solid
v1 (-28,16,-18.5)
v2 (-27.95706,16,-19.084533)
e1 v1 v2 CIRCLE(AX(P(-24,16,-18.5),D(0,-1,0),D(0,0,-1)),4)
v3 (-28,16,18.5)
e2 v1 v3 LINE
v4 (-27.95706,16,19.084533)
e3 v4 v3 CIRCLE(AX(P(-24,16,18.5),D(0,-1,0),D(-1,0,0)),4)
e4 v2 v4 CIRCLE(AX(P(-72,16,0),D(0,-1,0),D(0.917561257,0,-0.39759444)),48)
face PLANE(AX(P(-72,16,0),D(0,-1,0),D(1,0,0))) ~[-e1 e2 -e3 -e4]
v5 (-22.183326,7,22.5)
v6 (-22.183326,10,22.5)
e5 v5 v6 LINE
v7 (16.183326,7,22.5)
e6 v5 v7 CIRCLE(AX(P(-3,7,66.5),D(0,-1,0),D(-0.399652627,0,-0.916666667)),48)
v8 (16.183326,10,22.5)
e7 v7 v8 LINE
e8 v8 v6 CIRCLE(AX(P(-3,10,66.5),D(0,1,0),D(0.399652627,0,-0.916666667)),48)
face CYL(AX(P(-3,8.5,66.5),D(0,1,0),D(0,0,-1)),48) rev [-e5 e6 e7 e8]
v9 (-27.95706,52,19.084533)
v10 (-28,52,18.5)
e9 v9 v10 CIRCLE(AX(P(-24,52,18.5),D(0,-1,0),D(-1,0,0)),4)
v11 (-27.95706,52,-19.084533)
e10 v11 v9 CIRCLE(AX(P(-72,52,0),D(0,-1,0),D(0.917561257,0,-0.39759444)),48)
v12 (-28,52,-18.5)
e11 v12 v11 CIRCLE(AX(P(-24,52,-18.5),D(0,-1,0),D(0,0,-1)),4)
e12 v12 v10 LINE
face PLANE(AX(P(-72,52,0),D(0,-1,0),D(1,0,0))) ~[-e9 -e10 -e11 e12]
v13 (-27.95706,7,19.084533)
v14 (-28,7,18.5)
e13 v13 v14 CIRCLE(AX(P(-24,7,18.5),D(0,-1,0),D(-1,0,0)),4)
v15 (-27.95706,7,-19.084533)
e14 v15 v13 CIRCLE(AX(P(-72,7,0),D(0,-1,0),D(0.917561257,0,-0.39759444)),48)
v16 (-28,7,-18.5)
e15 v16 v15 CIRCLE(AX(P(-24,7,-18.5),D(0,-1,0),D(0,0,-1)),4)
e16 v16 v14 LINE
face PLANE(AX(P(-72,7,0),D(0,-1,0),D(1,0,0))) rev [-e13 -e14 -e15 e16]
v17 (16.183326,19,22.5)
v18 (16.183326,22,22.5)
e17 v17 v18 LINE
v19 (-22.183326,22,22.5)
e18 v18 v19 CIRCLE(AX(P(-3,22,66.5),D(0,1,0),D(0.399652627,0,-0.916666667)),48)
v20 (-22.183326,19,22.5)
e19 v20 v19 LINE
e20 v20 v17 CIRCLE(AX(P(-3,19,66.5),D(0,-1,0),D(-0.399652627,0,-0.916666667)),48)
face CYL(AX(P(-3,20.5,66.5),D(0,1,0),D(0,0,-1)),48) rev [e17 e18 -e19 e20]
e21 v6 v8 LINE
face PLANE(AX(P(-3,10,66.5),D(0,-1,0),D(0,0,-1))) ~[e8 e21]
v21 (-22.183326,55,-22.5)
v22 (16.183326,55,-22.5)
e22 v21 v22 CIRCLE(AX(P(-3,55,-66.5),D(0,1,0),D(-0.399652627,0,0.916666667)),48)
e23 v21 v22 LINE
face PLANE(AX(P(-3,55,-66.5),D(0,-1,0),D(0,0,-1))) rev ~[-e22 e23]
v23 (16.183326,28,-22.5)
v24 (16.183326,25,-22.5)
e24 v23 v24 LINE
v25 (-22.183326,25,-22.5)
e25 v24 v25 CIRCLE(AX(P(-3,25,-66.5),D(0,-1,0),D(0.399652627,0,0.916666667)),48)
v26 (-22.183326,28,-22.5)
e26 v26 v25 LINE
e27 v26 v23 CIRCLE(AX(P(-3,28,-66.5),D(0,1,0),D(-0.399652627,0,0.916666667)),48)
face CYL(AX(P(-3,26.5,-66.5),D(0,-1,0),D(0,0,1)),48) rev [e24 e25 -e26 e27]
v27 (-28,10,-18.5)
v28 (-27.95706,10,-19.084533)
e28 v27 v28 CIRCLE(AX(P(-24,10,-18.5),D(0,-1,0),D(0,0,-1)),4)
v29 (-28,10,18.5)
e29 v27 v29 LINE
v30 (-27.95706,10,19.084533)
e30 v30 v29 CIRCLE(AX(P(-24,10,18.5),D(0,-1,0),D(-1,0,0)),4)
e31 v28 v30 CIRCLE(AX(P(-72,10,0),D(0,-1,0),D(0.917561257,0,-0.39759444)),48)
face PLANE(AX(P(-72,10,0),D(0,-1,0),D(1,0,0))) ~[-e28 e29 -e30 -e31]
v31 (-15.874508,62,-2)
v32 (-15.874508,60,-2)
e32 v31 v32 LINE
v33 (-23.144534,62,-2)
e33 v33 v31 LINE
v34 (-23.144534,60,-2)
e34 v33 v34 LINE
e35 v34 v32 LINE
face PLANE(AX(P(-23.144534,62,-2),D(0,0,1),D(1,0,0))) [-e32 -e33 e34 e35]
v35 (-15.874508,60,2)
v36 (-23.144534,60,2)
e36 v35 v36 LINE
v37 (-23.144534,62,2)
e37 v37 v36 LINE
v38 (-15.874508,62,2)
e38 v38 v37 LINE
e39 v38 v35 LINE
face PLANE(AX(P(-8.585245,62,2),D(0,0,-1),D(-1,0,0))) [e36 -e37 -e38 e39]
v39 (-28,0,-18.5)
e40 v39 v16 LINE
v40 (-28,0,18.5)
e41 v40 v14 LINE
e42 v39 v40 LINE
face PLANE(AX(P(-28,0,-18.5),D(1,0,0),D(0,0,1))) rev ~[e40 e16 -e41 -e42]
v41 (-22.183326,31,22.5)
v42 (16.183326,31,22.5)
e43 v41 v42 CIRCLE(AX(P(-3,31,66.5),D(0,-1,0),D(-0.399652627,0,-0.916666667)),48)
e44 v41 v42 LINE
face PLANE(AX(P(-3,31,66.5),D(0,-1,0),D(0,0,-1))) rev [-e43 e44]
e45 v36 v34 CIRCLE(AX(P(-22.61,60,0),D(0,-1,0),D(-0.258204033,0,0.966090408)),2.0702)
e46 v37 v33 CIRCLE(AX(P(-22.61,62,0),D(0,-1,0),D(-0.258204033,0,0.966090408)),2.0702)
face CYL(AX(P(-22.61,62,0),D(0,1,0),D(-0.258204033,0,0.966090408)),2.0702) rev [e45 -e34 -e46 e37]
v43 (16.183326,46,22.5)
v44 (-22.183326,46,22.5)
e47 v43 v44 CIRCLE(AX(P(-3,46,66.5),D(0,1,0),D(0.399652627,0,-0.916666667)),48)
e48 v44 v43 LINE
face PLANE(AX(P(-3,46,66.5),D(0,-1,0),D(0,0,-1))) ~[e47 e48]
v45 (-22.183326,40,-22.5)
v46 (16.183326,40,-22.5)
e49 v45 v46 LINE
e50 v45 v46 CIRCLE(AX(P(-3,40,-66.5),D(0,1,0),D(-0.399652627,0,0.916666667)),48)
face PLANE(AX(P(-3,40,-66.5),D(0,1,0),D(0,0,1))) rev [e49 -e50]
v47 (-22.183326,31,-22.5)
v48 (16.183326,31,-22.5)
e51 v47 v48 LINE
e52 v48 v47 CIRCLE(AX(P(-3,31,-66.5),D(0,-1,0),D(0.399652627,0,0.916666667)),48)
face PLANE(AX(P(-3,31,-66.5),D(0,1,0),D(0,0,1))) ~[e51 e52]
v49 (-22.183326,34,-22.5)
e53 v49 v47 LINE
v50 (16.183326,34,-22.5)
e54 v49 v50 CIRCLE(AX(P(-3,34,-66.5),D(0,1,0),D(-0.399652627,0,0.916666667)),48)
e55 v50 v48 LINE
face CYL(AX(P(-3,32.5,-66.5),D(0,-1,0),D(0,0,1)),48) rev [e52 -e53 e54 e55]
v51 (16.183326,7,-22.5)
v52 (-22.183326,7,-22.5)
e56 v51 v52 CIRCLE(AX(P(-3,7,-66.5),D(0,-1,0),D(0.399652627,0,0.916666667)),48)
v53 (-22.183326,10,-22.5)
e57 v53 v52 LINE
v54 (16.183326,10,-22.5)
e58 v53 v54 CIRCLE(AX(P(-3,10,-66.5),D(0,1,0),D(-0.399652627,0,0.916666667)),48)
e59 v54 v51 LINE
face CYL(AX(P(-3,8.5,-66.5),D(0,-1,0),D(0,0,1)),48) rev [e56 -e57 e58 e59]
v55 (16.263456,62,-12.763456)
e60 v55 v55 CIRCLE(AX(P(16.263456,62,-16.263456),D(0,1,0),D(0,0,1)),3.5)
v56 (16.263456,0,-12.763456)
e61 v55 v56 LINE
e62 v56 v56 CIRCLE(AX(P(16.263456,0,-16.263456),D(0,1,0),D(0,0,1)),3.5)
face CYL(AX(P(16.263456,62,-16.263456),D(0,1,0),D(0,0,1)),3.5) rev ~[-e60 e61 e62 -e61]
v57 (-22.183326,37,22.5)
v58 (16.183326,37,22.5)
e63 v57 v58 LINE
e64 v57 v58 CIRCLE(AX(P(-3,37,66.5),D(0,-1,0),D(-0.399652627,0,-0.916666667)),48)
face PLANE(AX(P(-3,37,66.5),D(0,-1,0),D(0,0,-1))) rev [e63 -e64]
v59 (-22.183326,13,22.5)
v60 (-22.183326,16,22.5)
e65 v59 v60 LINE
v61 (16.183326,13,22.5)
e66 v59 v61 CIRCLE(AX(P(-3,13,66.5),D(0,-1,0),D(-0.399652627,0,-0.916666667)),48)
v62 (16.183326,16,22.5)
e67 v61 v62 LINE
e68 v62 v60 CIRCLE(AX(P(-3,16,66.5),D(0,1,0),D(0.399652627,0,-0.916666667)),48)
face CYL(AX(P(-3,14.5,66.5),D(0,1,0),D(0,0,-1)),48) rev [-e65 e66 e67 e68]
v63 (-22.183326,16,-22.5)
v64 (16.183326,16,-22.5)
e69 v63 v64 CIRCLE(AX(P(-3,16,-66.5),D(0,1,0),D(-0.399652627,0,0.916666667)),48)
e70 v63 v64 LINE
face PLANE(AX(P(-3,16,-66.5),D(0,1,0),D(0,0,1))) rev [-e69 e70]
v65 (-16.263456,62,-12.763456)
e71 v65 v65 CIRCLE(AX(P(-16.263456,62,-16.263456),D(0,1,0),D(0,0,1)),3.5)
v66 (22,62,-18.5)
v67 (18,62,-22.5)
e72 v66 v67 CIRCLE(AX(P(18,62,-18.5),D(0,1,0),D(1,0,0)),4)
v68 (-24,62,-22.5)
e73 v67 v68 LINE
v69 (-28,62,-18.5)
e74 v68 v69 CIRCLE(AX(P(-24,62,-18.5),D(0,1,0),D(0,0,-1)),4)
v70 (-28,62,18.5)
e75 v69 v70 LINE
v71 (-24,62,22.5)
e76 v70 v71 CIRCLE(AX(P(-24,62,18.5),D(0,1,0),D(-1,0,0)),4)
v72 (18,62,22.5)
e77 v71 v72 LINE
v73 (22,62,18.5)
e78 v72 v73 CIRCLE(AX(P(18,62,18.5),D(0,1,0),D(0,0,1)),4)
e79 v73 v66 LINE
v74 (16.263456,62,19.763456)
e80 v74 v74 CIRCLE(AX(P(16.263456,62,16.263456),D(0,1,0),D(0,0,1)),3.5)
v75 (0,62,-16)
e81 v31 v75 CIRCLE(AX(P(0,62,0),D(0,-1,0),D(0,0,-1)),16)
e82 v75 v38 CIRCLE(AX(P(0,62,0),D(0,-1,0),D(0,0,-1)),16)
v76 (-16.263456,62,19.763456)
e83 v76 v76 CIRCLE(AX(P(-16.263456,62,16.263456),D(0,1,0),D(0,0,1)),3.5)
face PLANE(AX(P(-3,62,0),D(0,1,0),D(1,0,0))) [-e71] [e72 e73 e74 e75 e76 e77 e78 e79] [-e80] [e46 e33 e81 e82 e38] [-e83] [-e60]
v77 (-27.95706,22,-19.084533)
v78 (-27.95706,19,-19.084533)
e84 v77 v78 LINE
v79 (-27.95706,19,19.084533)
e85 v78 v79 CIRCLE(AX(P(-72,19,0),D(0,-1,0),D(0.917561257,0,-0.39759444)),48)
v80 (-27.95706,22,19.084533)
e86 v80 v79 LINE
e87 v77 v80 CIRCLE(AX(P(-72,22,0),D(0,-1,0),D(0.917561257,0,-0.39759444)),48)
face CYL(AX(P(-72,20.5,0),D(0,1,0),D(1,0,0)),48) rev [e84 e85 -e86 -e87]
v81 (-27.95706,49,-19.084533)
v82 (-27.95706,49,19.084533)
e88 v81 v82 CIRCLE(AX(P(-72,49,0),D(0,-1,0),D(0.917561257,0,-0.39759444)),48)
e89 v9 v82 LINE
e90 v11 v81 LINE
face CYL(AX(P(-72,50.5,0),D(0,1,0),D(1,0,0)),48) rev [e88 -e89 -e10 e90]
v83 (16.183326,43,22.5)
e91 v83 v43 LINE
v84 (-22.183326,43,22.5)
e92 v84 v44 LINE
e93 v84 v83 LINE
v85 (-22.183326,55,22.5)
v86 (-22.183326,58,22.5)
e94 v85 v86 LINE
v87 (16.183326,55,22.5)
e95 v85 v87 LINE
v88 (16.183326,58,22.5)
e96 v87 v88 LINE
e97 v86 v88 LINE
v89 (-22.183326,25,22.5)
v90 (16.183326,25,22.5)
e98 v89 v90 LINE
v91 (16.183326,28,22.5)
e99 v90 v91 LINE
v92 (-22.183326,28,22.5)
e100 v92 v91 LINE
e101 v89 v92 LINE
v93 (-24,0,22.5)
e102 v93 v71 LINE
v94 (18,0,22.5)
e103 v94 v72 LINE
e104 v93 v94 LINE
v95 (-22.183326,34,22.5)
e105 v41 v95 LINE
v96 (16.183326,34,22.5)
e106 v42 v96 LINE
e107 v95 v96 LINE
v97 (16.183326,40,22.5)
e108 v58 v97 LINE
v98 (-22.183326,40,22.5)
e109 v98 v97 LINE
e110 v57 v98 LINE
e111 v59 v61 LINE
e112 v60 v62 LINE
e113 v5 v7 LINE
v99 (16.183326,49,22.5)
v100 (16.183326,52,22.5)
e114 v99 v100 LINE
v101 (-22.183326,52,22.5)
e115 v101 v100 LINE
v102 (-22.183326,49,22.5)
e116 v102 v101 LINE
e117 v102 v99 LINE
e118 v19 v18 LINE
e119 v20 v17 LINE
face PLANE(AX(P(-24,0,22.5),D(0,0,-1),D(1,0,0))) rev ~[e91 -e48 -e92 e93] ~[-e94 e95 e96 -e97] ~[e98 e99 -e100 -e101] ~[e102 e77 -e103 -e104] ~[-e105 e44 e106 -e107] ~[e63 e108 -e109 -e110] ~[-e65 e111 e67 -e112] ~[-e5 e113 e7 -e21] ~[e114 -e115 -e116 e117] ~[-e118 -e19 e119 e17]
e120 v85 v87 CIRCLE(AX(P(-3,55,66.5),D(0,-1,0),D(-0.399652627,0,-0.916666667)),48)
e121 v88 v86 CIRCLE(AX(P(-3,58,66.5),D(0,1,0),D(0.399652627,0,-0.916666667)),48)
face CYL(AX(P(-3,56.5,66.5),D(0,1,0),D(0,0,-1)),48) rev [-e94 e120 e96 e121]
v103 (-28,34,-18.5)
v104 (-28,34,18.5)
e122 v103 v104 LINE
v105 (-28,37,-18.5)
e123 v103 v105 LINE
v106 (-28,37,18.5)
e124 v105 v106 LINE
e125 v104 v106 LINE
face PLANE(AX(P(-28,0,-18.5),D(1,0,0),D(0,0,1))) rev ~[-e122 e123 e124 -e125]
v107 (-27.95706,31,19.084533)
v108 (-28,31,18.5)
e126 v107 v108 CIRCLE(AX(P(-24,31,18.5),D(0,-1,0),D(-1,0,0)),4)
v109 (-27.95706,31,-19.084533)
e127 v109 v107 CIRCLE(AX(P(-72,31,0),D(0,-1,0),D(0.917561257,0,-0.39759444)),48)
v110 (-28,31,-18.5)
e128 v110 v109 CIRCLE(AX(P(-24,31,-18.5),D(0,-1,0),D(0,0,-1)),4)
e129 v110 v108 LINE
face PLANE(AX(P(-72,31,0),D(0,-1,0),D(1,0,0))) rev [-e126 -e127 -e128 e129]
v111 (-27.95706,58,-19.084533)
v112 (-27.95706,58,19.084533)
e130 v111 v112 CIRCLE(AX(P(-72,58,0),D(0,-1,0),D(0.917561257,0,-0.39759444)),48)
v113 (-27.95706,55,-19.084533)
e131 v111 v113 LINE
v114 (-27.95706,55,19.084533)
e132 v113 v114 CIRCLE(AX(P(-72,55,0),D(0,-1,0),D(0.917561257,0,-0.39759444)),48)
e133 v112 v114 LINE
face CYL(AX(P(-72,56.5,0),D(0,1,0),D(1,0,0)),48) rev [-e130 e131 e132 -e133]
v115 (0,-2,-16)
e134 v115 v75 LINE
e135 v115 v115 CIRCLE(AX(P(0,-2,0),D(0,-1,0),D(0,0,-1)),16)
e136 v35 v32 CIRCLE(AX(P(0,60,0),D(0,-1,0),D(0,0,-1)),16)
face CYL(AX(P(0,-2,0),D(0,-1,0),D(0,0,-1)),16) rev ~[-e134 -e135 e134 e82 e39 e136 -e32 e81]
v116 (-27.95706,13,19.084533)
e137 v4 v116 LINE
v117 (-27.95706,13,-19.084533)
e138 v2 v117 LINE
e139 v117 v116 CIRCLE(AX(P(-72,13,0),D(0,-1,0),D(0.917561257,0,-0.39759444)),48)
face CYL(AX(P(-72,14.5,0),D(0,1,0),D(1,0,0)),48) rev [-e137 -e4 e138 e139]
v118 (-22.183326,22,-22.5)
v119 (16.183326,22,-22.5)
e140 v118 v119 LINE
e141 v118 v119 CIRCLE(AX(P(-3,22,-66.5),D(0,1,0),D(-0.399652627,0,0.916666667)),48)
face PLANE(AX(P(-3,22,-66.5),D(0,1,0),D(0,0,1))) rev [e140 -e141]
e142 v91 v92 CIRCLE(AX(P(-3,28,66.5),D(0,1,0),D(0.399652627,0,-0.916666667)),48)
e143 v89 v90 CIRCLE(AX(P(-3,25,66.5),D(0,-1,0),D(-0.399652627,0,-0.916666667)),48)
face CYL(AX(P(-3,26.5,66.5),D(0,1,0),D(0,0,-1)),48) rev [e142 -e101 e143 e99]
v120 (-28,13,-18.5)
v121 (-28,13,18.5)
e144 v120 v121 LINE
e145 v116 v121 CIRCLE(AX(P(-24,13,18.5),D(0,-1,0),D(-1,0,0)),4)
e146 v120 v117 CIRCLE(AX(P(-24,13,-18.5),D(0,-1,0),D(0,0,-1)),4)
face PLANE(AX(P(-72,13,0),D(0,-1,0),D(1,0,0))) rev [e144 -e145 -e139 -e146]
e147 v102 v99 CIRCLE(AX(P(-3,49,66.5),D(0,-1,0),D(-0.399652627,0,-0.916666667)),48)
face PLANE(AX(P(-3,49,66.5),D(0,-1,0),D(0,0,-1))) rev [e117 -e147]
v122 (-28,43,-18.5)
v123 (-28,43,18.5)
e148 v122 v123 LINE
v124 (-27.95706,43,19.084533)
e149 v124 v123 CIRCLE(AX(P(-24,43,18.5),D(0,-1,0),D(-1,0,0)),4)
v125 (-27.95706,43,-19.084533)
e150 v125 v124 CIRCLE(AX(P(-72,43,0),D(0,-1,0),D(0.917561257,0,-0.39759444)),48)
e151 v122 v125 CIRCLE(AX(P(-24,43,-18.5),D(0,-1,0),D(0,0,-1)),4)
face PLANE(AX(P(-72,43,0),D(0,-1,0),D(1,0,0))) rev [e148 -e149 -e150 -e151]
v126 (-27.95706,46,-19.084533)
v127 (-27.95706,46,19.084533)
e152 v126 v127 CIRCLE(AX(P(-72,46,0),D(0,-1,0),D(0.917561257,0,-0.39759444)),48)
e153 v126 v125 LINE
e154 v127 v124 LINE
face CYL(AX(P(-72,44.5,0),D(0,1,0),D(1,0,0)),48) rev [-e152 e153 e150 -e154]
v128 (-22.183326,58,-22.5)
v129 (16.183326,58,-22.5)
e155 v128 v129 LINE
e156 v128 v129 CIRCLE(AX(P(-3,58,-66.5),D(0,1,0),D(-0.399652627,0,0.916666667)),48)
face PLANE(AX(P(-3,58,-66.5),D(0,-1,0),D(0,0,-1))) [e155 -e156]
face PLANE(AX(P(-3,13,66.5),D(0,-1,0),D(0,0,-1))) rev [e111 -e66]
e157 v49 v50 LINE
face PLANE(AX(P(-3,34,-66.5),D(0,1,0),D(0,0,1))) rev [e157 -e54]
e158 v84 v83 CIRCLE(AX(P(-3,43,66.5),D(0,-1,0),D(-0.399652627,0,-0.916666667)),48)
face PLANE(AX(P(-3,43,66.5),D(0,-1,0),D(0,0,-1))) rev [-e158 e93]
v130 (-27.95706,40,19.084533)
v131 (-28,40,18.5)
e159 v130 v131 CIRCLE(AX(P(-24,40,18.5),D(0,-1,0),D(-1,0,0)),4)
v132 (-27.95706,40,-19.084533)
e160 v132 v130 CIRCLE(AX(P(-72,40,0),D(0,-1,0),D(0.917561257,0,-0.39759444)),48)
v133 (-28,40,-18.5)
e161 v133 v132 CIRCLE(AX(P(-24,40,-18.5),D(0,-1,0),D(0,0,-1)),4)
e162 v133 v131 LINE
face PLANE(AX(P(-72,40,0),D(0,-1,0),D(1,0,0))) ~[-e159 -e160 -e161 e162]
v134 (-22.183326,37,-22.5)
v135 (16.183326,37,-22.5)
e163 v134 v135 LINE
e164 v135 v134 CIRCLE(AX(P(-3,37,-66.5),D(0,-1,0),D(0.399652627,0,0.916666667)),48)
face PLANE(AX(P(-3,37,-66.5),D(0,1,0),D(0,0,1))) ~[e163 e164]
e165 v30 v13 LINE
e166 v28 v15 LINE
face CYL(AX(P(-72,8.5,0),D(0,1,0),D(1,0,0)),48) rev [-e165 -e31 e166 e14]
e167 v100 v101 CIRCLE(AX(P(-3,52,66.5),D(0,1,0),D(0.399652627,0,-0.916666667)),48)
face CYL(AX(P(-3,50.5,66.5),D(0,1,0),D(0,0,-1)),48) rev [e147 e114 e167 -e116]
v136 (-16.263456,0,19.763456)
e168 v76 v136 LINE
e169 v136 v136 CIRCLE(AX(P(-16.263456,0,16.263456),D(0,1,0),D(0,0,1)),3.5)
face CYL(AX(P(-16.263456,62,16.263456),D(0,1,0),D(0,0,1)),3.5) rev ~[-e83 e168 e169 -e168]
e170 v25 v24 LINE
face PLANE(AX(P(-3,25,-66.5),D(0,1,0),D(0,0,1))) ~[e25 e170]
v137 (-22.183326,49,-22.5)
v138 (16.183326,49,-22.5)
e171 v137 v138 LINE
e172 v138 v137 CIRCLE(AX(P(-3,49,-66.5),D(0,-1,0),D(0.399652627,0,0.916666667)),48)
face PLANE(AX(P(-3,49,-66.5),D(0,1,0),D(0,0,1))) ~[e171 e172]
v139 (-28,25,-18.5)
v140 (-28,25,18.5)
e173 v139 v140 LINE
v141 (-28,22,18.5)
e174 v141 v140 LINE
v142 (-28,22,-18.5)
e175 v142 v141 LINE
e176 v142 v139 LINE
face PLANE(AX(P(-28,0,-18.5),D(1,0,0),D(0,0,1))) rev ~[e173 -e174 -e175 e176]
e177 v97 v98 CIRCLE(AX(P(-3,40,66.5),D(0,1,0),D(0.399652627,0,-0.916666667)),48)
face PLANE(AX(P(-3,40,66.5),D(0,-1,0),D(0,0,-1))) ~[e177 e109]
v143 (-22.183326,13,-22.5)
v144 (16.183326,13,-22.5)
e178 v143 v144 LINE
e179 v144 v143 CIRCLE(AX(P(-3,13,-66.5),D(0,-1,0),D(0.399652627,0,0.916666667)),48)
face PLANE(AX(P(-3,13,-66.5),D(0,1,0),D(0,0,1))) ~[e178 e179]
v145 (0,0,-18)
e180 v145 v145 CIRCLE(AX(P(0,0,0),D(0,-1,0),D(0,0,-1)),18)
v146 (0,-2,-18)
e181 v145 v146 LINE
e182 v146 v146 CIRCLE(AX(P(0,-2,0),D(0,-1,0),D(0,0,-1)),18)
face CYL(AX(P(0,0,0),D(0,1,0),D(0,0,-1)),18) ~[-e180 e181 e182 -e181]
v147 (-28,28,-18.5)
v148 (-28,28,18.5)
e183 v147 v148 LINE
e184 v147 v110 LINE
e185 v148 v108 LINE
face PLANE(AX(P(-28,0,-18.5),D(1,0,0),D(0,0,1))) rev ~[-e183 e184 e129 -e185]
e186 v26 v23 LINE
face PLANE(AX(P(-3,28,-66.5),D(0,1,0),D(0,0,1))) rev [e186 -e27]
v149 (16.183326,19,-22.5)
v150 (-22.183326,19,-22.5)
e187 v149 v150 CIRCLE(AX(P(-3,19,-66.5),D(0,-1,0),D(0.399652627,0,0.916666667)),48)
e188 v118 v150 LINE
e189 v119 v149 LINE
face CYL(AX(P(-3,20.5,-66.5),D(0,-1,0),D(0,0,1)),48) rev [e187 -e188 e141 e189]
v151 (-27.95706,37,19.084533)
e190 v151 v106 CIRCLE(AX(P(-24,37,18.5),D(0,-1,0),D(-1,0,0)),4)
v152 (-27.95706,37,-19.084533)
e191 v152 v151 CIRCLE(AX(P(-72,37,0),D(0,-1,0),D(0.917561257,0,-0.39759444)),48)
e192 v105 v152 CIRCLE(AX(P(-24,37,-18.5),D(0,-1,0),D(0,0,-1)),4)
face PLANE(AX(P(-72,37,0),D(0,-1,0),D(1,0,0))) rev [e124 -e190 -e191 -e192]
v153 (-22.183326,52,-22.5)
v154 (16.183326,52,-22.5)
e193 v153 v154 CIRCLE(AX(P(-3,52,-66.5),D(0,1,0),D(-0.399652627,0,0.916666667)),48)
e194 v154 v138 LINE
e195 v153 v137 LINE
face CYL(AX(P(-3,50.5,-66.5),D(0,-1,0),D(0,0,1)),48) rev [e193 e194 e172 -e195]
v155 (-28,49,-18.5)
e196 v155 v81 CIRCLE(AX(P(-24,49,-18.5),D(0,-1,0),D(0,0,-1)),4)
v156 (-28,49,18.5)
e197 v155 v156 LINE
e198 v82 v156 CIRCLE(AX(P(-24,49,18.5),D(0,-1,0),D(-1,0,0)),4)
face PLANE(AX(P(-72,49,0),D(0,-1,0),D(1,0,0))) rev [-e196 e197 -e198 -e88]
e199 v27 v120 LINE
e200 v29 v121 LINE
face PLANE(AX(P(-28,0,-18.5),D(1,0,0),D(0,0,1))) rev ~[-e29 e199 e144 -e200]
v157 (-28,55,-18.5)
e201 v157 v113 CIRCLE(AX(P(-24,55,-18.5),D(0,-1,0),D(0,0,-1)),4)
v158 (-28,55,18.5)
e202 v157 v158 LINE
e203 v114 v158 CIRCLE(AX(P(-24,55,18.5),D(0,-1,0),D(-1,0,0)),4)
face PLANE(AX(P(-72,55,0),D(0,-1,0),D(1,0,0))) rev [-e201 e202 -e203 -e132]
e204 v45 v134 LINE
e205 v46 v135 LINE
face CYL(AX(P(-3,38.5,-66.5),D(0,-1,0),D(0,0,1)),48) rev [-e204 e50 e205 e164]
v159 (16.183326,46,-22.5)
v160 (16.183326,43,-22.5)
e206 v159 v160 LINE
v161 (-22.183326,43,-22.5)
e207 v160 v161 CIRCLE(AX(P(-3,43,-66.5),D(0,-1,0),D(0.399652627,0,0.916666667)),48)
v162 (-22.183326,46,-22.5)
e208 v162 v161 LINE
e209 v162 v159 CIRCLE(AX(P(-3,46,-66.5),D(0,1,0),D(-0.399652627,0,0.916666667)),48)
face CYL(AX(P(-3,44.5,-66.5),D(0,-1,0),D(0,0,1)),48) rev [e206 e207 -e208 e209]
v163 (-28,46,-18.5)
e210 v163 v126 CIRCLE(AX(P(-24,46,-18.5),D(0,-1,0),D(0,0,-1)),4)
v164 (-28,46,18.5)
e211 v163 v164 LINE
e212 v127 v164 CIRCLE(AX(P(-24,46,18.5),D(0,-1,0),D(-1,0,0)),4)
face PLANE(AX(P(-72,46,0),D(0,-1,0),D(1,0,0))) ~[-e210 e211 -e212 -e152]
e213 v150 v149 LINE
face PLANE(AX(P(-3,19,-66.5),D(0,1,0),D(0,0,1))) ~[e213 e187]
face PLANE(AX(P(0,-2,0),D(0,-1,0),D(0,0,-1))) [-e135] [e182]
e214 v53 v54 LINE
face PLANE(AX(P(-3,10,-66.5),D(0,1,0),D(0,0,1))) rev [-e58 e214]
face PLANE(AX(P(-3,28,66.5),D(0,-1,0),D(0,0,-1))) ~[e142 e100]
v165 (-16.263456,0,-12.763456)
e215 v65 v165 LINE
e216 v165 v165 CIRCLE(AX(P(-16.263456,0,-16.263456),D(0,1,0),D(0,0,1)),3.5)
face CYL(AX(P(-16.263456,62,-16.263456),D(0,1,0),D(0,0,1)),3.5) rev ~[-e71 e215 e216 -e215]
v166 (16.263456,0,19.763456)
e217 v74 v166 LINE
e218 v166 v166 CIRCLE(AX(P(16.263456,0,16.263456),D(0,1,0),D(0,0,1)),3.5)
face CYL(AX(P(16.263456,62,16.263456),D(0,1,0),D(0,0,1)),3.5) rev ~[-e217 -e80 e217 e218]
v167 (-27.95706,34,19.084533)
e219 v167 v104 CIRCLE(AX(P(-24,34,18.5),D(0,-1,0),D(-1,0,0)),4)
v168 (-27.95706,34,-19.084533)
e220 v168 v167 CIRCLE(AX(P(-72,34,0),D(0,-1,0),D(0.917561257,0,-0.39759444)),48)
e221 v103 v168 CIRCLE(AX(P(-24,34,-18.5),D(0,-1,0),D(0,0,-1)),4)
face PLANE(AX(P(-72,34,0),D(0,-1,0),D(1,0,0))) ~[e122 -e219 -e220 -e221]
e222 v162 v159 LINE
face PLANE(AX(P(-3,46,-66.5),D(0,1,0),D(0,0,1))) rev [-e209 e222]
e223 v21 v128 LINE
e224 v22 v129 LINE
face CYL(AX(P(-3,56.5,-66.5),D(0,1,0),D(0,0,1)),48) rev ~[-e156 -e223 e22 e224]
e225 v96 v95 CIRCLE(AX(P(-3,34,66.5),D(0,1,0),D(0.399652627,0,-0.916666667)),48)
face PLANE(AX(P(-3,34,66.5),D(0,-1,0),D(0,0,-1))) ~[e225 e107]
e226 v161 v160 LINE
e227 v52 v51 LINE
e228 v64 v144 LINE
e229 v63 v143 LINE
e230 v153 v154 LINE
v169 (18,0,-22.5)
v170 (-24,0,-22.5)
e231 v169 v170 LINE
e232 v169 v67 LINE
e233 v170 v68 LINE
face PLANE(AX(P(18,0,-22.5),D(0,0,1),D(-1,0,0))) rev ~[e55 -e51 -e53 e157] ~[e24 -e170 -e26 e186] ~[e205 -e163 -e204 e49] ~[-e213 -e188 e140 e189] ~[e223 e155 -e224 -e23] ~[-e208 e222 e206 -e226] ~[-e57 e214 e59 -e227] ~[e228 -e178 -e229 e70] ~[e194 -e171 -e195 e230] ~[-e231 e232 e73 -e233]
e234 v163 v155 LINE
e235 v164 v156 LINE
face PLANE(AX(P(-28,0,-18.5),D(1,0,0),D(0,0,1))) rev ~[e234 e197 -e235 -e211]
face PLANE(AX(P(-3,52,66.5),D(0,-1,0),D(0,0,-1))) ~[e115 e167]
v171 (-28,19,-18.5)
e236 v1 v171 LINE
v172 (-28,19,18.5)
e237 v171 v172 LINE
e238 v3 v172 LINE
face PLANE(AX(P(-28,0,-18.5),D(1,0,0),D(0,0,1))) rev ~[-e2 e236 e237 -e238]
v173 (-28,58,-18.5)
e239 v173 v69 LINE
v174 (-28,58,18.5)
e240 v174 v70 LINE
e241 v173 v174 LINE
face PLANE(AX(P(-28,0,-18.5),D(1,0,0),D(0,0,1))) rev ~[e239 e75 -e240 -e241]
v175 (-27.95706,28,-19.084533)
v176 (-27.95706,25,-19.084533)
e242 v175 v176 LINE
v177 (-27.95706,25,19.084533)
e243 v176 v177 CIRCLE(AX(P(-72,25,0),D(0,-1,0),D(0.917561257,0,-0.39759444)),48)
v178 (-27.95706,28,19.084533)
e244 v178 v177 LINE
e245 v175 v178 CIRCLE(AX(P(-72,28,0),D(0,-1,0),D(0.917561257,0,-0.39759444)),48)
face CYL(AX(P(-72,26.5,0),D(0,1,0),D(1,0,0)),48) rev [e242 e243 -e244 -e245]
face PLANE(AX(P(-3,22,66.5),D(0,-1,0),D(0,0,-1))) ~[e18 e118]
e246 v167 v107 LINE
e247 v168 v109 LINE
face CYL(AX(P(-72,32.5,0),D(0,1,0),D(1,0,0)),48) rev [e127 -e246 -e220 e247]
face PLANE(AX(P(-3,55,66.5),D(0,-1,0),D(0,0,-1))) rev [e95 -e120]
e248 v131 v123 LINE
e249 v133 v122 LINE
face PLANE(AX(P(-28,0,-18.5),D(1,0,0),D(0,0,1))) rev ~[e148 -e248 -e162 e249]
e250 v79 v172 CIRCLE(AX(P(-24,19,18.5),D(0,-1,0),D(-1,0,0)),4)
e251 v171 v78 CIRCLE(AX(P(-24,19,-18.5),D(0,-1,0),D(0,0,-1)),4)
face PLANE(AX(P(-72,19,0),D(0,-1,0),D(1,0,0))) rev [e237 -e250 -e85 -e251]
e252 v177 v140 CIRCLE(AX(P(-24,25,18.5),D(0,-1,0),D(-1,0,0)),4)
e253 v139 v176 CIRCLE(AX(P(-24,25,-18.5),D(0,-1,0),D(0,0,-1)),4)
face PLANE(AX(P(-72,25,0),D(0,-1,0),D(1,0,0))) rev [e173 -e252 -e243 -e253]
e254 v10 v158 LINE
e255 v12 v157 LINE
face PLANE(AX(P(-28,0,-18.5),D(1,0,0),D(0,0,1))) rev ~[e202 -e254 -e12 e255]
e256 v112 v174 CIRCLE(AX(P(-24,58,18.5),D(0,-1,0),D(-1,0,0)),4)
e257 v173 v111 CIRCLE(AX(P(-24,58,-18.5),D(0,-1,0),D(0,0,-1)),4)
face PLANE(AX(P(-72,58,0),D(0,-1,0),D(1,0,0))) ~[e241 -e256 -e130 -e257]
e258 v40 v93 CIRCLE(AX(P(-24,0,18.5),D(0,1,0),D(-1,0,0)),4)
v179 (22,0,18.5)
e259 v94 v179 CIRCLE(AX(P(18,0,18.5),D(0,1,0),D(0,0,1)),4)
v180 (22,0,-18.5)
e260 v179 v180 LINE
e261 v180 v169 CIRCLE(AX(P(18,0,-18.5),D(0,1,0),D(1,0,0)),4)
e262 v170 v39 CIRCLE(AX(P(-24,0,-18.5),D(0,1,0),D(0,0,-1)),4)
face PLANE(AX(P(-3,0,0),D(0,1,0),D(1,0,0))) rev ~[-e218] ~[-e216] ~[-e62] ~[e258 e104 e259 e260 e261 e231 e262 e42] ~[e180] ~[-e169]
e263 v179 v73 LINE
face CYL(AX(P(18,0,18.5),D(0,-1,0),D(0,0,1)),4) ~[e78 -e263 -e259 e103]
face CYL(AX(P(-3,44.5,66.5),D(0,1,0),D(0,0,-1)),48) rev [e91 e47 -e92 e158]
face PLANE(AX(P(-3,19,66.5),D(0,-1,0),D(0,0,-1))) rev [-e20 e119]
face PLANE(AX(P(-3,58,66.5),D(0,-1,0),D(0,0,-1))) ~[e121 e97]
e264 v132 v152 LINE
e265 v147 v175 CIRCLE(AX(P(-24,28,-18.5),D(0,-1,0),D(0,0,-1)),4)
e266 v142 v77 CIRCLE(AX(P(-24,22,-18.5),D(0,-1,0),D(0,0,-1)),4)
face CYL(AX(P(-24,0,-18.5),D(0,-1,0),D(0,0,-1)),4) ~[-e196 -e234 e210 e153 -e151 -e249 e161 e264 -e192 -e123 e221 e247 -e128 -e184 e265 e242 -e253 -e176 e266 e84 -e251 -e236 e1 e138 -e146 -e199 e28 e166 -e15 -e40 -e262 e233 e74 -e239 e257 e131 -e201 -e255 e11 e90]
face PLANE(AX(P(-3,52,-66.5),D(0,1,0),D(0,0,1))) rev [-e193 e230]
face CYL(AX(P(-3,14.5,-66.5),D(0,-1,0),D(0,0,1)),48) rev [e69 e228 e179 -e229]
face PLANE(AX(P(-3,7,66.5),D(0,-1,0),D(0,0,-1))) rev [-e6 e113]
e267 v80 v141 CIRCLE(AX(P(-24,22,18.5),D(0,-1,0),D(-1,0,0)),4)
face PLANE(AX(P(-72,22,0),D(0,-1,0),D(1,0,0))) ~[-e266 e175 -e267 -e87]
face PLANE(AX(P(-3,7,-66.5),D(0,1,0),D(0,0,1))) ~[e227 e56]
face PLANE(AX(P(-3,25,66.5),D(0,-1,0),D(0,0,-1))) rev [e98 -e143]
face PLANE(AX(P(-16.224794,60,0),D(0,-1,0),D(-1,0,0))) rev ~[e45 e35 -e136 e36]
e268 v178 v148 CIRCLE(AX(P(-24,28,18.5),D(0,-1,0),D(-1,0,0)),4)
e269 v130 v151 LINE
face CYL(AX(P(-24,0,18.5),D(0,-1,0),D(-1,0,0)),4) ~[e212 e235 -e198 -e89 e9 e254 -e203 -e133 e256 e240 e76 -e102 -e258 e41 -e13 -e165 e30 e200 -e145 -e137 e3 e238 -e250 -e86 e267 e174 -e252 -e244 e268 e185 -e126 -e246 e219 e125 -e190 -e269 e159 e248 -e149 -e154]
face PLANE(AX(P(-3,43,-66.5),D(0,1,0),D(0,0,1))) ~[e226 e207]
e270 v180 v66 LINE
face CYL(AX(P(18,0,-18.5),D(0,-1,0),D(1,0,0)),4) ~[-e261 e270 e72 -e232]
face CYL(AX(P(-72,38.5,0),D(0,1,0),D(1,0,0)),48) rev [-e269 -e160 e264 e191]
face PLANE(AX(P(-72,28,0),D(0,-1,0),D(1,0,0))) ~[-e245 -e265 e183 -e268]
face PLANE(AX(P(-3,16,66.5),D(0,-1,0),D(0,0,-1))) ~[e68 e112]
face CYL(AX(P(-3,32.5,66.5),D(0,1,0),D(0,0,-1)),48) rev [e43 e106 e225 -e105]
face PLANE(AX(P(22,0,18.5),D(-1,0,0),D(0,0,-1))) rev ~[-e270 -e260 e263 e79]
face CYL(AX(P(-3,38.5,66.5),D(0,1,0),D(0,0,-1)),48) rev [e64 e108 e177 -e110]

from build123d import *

# Parameters (mm, degrees)
BOSS_EXTRUDE1_DEPTH     = 62
SKETCH2_R               = 18
BOSS_EXTRUDE2_DEPTH     = 2
SKETCH3_R               = 16
CUT_EXTRUDE1_DEPTH      = 74.391075752
CUT_EXTRUDE2_DEPTH      = 2
SKETCH5_R               = 3.5
CUT_EXTRUDE3_DEPTH      = 74.391075752
SKETCH6_W               = 48
SKETCH6_H               = 3
LPATTERN1_COUNT         = 9
LPATTERN1_PITCH         = 6
MIRROR1_COPY_1_SKETCH_W = 48
MIRROR1_COPY_1_SKETCH_H = 3
MIRROR1_COPY_2_SKETCH_W = 48
MIRROR1_COPY_2_SKETCH_H = 3
MIRROR1_COPY_3_SKETCH_W = 48
MIRROR1_COPY_3_SKETCH_H = 3
MIRROR1_COPY_4_SKETCH_W = 48
MIRROR1_COPY_4_SKETCH_H = 3
MIRROR1_COPY_5_SKETCH_W = 48
MIRROR1_COPY_5_SKETCH_H = 3
MIRROR1_COPY_6_SKETCH_W = 48
MIRROR1_COPY_6_SKETCH_H = 3
MIRROR1_COPY_7_SKETCH_W = 48
MIRROR1_COPY_7_SKETCH_H = 3
MIRROR1_COPY_8_SKETCH_W = 48
MIRROR1_COPY_8_SKETCH_H = 3
SKETCH10_W              = 48
SKETCH10_H              = 3
LPATTERN2_COUNT         = 9
LPATTERN2_PITCH         = 6


with BuildPart() as part:
    # Sketch1 → Boss-Extrude1 (new body)
    with BuildSketch(Plane(origin=(0, 0, 0), x_dir=(1, 0, 0), z_dir=(0, 1, 0))):
        with BuildLine():
            Line((-24, -22.5), (18, -22.5))
            ThreePointArc((18, -22.5), (20.828427125, -21.328427125), (22, -18.5))
            Line((22, -18.5), (22, 18.5))
            ThreePointArc((22, 18.5), (20.828427125, 21.328427125), (18, 22.5))
            Line((18, 22.5), (-24, 22.5))
            ThreePointArc((-24, 22.5), (-26.828427125, 21.328427125), (-28, 18.5))
            Line((-28, 18.5), (-28, -18.5))
            ThreePointArc((-28, -18.5), (-26.828427125, -21.328427125), (-24, -22.5))
        make_face()
    extrude(amount=BOSS_EXTRUDE1_DEPTH)

    # Sketch2 → Boss-Extrude2 (add)
    with BuildSketch(Plane.XZ):
        with Locations(Location((0, 0, 0), (0, 0, 270))):
            Circle(SKETCH2_R)
    extrude(amount=BOSS_EXTRUDE2_DEPTH)

    # Sketch3 → Cut-Extrude1 (cut, through all)
    with BuildSketch(Plane.XZ.offset(2)):
        with Locations(Location((0, 0, 0), (0, 0, 270))):
            Circle(SKETCH3_R)
    extrude(amount=-CUT_EXTRUDE1_DEPTH, mode=Mode.SUBTRACT)

    # Sketch4 → Cut-Extrude2 (cut)
    with BuildSketch(Plane(origin=(0, 62, 0), x_dir=(1, 0, 0), z_dir=(0, 1, 0))):
        with BuildLine():
            Line((-23.144533893, 2), (-8.5852446, 2))
            Line((-8.5852446, 2), (-8.5852446, -2))
            Line((-8.5852446, -2), (-23.144533893, -2))
            ThreePointArc((-23.144533893, -2), (-24.680199624, 0), (-23.144533893, 2))
        make_face()
    extrude(amount=-CUT_EXTRUDE2_DEPTH, mode=Mode.SUBTRACT)

    # Sketch5 → Cut-Extrude3 (cut, through all)
    with BuildSketch(Plane(origin=(0, 62, 0), x_dir=(1, 0, 0), z_dir=(0, 1, 0))):
        with Locations(Location((16.263455967, 16.263455967, 0), (0, 0, 270))):
            Circle(SKETCH5_R)
        with Locations(Location((16.263455967, -16.263455967, 0), (0, 0, 270))):
            Circle(SKETCH5_R)
        with Locations(Location((-16.263455967, -16.263455967, 0), (0, 0, 270))):
            Circle(SKETCH5_R)
        with Locations(Location((-16.263455967, 16.263455967, 0), (0, 0, 270))):
            Circle(SKETCH5_R)
    extrude(amount=-CUT_EXTRUDE3_DEPTH, mode=Mode.SUBTRACT)

    # Sketch6 → Cut-Revolve1 (revolve, cut)
    with BuildSketch(Plane(origin=(-3, 0, 0), x_dir=(0, 0, -1), z_dir=(1, 0, 0))):
        with Locations((-42.5, 56.5)):
            Rectangle(SKETCH6_W, SKETCH6_H)
    cut_revolve1 = revolve(axis=Axis((-3, 58, 66.5), (0, -1, 0)), mode=Mode.SUBTRACT)

    # LPattern1: Cut-Revolve1 ×9
    with Locations(*[(0, -i * LPATTERN1_PITCH, 0) for i in range(1, LPATTERN1_COUNT)]):
        add(cut_revolve1, mode=Mode.SUBTRACT)

    # Mirror1: Cut-Revolve1 across plane
    add(cut_revolve1.mirror(Plane.XY), mode=Mode.SUBTRACT)

    # Mirror1 copy 1 sketch → Mirror1 copy 1 (revolve, cut)
    with BuildSketch(Plane(origin=(-3, -6, 0), x_dir=(0, 0, 1), z_dir=(1, 0, 0))):
        with Locations((-42.5, -56.5)):
            Rectangle(MIRROR1_COPY_1_SKETCH_W, MIRROR1_COPY_1_SKETCH_H)
    revolve(axis=Axis((-3, 52, -66.5), (0, 1, 0)), mode=Mode.SUBTRACT)

    # Mirror1 copy 2 sketch → Mirror1 copy 2 (revolve, cut)
    with BuildSketch(Plane(origin=(-3, -12, 0), x_dir=(0, 0, 1), z_dir=(1, 0, 0))):
        with Locations((-42.5, -56.5)):
            Rectangle(MIRROR1_COPY_2_SKETCH_W, MIRROR1_COPY_2_SKETCH_H)
    revolve(axis=Axis((-3, 46, -66.5), (0, 1, 0)), mode=Mode.SUBTRACT)

    # Mirror1 copy 3 sketch → Mirror1 copy 3 (revolve, cut)
    with BuildSketch(Plane(origin=(-3, -18, 0), x_dir=(0, 0, 1), z_dir=(1, 0, 0))):
        with Locations((-42.5, -56.5)):
            Rectangle(MIRROR1_COPY_3_SKETCH_W, MIRROR1_COPY_3_SKETCH_H)
    revolve(axis=Axis((-3, 40, -66.5), (0, 1, 0)), mode=Mode.SUBTRACT)

    # Mirror1 copy 4 sketch → Mirror1 copy 4 (revolve, cut)
    with BuildSketch(Plane(origin=(-3, -24, 0), x_dir=(0, 0, 1), z_dir=(1, 0, 0))):
        with Locations((-42.5, -56.5)):
            Rectangle(MIRROR1_COPY_4_SKETCH_W, MIRROR1_COPY_4_SKETCH_H)
    revolve(axis=Axis((-3, 34, -66.5), (0, 1, 0)), mode=Mode.SUBTRACT)

    # Mirror1 copy 5 sketch → Mirror1 copy 5 (revolve, cut)
    with BuildSketch(Plane(origin=(-3, -30, 0), x_dir=(0, 0, 1), z_dir=(1, 0, 0))):
        with Locations((-42.5, -56.5)):
            Rectangle(MIRROR1_COPY_5_SKETCH_W, MIRROR1_COPY_5_SKETCH_H)
    revolve(axis=Axis((-3, 28, -66.5), (0, 1, 0)), mode=Mode.SUBTRACT)

    # Mirror1 copy 6 sketch → Mirror1 copy 6 (revolve, cut)
    with BuildSketch(Plane(origin=(-3, -36, 0), x_dir=(0, 0, 1), z_dir=(1, 0, 0))):
        with Locations((-42.5, -56.5)):
            Rectangle(MIRROR1_COPY_6_SKETCH_W, MIRROR1_COPY_6_SKETCH_H)
    revolve(axis=Axis((-3, 22, -66.5), (0, 1, 0)), mode=Mode.SUBTRACT)

    # Mirror1 copy 7 sketch → Mirror1 copy 7 (revolve, cut)
    with BuildSketch(Plane(origin=(-3, -42, 0), x_dir=(0, 0, 1), z_dir=(1, 0, 0))):
        with Locations((-42.5, -56.5)):
            Rectangle(MIRROR1_COPY_7_SKETCH_W, MIRROR1_COPY_7_SKETCH_H)
    revolve(axis=Axis((-3, 16, -66.5), (0, 1, 0)), mode=Mode.SUBTRACT)

    # Mirror1 copy 8 sketch → Mirror1 copy 8 (revolve, cut)
    with BuildSketch(Plane(origin=(-3, -48, 0), x_dir=(0, 0, 1), z_dir=(1, 0, 0))):
        with Locations((-42.5, -56.5)):
            Rectangle(MIRROR1_COPY_8_SKETCH_W, MIRROR1_COPY_8_SKETCH_H)
    revolve(axis=Axis((-3, 10, -66.5), (0, 1, 0)), mode=Mode.SUBTRACT)

    # Sketch10 → Cut-Revolve2 (revolve, cut)
    with BuildSketch(Plane.XY):
        with Locations((-48, 56.5)):
            Rectangle(SKETCH10_W, SKETCH10_H)
    cut_revolve2 = revolve(axis=Axis((-72, 58, 0), (0, -1, 0)), mode=Mode.SUBTRACT)

    # LPattern2: Cut-Revolve2 ×9
    with Locations(*[(0, -i * LPATTERN2_PITCH, 0) for i in range(1, LPATTERN2_COUNT)]):
        add(cut_revolve2, mode=Mode.SUBTRACT)


solid = part.part
